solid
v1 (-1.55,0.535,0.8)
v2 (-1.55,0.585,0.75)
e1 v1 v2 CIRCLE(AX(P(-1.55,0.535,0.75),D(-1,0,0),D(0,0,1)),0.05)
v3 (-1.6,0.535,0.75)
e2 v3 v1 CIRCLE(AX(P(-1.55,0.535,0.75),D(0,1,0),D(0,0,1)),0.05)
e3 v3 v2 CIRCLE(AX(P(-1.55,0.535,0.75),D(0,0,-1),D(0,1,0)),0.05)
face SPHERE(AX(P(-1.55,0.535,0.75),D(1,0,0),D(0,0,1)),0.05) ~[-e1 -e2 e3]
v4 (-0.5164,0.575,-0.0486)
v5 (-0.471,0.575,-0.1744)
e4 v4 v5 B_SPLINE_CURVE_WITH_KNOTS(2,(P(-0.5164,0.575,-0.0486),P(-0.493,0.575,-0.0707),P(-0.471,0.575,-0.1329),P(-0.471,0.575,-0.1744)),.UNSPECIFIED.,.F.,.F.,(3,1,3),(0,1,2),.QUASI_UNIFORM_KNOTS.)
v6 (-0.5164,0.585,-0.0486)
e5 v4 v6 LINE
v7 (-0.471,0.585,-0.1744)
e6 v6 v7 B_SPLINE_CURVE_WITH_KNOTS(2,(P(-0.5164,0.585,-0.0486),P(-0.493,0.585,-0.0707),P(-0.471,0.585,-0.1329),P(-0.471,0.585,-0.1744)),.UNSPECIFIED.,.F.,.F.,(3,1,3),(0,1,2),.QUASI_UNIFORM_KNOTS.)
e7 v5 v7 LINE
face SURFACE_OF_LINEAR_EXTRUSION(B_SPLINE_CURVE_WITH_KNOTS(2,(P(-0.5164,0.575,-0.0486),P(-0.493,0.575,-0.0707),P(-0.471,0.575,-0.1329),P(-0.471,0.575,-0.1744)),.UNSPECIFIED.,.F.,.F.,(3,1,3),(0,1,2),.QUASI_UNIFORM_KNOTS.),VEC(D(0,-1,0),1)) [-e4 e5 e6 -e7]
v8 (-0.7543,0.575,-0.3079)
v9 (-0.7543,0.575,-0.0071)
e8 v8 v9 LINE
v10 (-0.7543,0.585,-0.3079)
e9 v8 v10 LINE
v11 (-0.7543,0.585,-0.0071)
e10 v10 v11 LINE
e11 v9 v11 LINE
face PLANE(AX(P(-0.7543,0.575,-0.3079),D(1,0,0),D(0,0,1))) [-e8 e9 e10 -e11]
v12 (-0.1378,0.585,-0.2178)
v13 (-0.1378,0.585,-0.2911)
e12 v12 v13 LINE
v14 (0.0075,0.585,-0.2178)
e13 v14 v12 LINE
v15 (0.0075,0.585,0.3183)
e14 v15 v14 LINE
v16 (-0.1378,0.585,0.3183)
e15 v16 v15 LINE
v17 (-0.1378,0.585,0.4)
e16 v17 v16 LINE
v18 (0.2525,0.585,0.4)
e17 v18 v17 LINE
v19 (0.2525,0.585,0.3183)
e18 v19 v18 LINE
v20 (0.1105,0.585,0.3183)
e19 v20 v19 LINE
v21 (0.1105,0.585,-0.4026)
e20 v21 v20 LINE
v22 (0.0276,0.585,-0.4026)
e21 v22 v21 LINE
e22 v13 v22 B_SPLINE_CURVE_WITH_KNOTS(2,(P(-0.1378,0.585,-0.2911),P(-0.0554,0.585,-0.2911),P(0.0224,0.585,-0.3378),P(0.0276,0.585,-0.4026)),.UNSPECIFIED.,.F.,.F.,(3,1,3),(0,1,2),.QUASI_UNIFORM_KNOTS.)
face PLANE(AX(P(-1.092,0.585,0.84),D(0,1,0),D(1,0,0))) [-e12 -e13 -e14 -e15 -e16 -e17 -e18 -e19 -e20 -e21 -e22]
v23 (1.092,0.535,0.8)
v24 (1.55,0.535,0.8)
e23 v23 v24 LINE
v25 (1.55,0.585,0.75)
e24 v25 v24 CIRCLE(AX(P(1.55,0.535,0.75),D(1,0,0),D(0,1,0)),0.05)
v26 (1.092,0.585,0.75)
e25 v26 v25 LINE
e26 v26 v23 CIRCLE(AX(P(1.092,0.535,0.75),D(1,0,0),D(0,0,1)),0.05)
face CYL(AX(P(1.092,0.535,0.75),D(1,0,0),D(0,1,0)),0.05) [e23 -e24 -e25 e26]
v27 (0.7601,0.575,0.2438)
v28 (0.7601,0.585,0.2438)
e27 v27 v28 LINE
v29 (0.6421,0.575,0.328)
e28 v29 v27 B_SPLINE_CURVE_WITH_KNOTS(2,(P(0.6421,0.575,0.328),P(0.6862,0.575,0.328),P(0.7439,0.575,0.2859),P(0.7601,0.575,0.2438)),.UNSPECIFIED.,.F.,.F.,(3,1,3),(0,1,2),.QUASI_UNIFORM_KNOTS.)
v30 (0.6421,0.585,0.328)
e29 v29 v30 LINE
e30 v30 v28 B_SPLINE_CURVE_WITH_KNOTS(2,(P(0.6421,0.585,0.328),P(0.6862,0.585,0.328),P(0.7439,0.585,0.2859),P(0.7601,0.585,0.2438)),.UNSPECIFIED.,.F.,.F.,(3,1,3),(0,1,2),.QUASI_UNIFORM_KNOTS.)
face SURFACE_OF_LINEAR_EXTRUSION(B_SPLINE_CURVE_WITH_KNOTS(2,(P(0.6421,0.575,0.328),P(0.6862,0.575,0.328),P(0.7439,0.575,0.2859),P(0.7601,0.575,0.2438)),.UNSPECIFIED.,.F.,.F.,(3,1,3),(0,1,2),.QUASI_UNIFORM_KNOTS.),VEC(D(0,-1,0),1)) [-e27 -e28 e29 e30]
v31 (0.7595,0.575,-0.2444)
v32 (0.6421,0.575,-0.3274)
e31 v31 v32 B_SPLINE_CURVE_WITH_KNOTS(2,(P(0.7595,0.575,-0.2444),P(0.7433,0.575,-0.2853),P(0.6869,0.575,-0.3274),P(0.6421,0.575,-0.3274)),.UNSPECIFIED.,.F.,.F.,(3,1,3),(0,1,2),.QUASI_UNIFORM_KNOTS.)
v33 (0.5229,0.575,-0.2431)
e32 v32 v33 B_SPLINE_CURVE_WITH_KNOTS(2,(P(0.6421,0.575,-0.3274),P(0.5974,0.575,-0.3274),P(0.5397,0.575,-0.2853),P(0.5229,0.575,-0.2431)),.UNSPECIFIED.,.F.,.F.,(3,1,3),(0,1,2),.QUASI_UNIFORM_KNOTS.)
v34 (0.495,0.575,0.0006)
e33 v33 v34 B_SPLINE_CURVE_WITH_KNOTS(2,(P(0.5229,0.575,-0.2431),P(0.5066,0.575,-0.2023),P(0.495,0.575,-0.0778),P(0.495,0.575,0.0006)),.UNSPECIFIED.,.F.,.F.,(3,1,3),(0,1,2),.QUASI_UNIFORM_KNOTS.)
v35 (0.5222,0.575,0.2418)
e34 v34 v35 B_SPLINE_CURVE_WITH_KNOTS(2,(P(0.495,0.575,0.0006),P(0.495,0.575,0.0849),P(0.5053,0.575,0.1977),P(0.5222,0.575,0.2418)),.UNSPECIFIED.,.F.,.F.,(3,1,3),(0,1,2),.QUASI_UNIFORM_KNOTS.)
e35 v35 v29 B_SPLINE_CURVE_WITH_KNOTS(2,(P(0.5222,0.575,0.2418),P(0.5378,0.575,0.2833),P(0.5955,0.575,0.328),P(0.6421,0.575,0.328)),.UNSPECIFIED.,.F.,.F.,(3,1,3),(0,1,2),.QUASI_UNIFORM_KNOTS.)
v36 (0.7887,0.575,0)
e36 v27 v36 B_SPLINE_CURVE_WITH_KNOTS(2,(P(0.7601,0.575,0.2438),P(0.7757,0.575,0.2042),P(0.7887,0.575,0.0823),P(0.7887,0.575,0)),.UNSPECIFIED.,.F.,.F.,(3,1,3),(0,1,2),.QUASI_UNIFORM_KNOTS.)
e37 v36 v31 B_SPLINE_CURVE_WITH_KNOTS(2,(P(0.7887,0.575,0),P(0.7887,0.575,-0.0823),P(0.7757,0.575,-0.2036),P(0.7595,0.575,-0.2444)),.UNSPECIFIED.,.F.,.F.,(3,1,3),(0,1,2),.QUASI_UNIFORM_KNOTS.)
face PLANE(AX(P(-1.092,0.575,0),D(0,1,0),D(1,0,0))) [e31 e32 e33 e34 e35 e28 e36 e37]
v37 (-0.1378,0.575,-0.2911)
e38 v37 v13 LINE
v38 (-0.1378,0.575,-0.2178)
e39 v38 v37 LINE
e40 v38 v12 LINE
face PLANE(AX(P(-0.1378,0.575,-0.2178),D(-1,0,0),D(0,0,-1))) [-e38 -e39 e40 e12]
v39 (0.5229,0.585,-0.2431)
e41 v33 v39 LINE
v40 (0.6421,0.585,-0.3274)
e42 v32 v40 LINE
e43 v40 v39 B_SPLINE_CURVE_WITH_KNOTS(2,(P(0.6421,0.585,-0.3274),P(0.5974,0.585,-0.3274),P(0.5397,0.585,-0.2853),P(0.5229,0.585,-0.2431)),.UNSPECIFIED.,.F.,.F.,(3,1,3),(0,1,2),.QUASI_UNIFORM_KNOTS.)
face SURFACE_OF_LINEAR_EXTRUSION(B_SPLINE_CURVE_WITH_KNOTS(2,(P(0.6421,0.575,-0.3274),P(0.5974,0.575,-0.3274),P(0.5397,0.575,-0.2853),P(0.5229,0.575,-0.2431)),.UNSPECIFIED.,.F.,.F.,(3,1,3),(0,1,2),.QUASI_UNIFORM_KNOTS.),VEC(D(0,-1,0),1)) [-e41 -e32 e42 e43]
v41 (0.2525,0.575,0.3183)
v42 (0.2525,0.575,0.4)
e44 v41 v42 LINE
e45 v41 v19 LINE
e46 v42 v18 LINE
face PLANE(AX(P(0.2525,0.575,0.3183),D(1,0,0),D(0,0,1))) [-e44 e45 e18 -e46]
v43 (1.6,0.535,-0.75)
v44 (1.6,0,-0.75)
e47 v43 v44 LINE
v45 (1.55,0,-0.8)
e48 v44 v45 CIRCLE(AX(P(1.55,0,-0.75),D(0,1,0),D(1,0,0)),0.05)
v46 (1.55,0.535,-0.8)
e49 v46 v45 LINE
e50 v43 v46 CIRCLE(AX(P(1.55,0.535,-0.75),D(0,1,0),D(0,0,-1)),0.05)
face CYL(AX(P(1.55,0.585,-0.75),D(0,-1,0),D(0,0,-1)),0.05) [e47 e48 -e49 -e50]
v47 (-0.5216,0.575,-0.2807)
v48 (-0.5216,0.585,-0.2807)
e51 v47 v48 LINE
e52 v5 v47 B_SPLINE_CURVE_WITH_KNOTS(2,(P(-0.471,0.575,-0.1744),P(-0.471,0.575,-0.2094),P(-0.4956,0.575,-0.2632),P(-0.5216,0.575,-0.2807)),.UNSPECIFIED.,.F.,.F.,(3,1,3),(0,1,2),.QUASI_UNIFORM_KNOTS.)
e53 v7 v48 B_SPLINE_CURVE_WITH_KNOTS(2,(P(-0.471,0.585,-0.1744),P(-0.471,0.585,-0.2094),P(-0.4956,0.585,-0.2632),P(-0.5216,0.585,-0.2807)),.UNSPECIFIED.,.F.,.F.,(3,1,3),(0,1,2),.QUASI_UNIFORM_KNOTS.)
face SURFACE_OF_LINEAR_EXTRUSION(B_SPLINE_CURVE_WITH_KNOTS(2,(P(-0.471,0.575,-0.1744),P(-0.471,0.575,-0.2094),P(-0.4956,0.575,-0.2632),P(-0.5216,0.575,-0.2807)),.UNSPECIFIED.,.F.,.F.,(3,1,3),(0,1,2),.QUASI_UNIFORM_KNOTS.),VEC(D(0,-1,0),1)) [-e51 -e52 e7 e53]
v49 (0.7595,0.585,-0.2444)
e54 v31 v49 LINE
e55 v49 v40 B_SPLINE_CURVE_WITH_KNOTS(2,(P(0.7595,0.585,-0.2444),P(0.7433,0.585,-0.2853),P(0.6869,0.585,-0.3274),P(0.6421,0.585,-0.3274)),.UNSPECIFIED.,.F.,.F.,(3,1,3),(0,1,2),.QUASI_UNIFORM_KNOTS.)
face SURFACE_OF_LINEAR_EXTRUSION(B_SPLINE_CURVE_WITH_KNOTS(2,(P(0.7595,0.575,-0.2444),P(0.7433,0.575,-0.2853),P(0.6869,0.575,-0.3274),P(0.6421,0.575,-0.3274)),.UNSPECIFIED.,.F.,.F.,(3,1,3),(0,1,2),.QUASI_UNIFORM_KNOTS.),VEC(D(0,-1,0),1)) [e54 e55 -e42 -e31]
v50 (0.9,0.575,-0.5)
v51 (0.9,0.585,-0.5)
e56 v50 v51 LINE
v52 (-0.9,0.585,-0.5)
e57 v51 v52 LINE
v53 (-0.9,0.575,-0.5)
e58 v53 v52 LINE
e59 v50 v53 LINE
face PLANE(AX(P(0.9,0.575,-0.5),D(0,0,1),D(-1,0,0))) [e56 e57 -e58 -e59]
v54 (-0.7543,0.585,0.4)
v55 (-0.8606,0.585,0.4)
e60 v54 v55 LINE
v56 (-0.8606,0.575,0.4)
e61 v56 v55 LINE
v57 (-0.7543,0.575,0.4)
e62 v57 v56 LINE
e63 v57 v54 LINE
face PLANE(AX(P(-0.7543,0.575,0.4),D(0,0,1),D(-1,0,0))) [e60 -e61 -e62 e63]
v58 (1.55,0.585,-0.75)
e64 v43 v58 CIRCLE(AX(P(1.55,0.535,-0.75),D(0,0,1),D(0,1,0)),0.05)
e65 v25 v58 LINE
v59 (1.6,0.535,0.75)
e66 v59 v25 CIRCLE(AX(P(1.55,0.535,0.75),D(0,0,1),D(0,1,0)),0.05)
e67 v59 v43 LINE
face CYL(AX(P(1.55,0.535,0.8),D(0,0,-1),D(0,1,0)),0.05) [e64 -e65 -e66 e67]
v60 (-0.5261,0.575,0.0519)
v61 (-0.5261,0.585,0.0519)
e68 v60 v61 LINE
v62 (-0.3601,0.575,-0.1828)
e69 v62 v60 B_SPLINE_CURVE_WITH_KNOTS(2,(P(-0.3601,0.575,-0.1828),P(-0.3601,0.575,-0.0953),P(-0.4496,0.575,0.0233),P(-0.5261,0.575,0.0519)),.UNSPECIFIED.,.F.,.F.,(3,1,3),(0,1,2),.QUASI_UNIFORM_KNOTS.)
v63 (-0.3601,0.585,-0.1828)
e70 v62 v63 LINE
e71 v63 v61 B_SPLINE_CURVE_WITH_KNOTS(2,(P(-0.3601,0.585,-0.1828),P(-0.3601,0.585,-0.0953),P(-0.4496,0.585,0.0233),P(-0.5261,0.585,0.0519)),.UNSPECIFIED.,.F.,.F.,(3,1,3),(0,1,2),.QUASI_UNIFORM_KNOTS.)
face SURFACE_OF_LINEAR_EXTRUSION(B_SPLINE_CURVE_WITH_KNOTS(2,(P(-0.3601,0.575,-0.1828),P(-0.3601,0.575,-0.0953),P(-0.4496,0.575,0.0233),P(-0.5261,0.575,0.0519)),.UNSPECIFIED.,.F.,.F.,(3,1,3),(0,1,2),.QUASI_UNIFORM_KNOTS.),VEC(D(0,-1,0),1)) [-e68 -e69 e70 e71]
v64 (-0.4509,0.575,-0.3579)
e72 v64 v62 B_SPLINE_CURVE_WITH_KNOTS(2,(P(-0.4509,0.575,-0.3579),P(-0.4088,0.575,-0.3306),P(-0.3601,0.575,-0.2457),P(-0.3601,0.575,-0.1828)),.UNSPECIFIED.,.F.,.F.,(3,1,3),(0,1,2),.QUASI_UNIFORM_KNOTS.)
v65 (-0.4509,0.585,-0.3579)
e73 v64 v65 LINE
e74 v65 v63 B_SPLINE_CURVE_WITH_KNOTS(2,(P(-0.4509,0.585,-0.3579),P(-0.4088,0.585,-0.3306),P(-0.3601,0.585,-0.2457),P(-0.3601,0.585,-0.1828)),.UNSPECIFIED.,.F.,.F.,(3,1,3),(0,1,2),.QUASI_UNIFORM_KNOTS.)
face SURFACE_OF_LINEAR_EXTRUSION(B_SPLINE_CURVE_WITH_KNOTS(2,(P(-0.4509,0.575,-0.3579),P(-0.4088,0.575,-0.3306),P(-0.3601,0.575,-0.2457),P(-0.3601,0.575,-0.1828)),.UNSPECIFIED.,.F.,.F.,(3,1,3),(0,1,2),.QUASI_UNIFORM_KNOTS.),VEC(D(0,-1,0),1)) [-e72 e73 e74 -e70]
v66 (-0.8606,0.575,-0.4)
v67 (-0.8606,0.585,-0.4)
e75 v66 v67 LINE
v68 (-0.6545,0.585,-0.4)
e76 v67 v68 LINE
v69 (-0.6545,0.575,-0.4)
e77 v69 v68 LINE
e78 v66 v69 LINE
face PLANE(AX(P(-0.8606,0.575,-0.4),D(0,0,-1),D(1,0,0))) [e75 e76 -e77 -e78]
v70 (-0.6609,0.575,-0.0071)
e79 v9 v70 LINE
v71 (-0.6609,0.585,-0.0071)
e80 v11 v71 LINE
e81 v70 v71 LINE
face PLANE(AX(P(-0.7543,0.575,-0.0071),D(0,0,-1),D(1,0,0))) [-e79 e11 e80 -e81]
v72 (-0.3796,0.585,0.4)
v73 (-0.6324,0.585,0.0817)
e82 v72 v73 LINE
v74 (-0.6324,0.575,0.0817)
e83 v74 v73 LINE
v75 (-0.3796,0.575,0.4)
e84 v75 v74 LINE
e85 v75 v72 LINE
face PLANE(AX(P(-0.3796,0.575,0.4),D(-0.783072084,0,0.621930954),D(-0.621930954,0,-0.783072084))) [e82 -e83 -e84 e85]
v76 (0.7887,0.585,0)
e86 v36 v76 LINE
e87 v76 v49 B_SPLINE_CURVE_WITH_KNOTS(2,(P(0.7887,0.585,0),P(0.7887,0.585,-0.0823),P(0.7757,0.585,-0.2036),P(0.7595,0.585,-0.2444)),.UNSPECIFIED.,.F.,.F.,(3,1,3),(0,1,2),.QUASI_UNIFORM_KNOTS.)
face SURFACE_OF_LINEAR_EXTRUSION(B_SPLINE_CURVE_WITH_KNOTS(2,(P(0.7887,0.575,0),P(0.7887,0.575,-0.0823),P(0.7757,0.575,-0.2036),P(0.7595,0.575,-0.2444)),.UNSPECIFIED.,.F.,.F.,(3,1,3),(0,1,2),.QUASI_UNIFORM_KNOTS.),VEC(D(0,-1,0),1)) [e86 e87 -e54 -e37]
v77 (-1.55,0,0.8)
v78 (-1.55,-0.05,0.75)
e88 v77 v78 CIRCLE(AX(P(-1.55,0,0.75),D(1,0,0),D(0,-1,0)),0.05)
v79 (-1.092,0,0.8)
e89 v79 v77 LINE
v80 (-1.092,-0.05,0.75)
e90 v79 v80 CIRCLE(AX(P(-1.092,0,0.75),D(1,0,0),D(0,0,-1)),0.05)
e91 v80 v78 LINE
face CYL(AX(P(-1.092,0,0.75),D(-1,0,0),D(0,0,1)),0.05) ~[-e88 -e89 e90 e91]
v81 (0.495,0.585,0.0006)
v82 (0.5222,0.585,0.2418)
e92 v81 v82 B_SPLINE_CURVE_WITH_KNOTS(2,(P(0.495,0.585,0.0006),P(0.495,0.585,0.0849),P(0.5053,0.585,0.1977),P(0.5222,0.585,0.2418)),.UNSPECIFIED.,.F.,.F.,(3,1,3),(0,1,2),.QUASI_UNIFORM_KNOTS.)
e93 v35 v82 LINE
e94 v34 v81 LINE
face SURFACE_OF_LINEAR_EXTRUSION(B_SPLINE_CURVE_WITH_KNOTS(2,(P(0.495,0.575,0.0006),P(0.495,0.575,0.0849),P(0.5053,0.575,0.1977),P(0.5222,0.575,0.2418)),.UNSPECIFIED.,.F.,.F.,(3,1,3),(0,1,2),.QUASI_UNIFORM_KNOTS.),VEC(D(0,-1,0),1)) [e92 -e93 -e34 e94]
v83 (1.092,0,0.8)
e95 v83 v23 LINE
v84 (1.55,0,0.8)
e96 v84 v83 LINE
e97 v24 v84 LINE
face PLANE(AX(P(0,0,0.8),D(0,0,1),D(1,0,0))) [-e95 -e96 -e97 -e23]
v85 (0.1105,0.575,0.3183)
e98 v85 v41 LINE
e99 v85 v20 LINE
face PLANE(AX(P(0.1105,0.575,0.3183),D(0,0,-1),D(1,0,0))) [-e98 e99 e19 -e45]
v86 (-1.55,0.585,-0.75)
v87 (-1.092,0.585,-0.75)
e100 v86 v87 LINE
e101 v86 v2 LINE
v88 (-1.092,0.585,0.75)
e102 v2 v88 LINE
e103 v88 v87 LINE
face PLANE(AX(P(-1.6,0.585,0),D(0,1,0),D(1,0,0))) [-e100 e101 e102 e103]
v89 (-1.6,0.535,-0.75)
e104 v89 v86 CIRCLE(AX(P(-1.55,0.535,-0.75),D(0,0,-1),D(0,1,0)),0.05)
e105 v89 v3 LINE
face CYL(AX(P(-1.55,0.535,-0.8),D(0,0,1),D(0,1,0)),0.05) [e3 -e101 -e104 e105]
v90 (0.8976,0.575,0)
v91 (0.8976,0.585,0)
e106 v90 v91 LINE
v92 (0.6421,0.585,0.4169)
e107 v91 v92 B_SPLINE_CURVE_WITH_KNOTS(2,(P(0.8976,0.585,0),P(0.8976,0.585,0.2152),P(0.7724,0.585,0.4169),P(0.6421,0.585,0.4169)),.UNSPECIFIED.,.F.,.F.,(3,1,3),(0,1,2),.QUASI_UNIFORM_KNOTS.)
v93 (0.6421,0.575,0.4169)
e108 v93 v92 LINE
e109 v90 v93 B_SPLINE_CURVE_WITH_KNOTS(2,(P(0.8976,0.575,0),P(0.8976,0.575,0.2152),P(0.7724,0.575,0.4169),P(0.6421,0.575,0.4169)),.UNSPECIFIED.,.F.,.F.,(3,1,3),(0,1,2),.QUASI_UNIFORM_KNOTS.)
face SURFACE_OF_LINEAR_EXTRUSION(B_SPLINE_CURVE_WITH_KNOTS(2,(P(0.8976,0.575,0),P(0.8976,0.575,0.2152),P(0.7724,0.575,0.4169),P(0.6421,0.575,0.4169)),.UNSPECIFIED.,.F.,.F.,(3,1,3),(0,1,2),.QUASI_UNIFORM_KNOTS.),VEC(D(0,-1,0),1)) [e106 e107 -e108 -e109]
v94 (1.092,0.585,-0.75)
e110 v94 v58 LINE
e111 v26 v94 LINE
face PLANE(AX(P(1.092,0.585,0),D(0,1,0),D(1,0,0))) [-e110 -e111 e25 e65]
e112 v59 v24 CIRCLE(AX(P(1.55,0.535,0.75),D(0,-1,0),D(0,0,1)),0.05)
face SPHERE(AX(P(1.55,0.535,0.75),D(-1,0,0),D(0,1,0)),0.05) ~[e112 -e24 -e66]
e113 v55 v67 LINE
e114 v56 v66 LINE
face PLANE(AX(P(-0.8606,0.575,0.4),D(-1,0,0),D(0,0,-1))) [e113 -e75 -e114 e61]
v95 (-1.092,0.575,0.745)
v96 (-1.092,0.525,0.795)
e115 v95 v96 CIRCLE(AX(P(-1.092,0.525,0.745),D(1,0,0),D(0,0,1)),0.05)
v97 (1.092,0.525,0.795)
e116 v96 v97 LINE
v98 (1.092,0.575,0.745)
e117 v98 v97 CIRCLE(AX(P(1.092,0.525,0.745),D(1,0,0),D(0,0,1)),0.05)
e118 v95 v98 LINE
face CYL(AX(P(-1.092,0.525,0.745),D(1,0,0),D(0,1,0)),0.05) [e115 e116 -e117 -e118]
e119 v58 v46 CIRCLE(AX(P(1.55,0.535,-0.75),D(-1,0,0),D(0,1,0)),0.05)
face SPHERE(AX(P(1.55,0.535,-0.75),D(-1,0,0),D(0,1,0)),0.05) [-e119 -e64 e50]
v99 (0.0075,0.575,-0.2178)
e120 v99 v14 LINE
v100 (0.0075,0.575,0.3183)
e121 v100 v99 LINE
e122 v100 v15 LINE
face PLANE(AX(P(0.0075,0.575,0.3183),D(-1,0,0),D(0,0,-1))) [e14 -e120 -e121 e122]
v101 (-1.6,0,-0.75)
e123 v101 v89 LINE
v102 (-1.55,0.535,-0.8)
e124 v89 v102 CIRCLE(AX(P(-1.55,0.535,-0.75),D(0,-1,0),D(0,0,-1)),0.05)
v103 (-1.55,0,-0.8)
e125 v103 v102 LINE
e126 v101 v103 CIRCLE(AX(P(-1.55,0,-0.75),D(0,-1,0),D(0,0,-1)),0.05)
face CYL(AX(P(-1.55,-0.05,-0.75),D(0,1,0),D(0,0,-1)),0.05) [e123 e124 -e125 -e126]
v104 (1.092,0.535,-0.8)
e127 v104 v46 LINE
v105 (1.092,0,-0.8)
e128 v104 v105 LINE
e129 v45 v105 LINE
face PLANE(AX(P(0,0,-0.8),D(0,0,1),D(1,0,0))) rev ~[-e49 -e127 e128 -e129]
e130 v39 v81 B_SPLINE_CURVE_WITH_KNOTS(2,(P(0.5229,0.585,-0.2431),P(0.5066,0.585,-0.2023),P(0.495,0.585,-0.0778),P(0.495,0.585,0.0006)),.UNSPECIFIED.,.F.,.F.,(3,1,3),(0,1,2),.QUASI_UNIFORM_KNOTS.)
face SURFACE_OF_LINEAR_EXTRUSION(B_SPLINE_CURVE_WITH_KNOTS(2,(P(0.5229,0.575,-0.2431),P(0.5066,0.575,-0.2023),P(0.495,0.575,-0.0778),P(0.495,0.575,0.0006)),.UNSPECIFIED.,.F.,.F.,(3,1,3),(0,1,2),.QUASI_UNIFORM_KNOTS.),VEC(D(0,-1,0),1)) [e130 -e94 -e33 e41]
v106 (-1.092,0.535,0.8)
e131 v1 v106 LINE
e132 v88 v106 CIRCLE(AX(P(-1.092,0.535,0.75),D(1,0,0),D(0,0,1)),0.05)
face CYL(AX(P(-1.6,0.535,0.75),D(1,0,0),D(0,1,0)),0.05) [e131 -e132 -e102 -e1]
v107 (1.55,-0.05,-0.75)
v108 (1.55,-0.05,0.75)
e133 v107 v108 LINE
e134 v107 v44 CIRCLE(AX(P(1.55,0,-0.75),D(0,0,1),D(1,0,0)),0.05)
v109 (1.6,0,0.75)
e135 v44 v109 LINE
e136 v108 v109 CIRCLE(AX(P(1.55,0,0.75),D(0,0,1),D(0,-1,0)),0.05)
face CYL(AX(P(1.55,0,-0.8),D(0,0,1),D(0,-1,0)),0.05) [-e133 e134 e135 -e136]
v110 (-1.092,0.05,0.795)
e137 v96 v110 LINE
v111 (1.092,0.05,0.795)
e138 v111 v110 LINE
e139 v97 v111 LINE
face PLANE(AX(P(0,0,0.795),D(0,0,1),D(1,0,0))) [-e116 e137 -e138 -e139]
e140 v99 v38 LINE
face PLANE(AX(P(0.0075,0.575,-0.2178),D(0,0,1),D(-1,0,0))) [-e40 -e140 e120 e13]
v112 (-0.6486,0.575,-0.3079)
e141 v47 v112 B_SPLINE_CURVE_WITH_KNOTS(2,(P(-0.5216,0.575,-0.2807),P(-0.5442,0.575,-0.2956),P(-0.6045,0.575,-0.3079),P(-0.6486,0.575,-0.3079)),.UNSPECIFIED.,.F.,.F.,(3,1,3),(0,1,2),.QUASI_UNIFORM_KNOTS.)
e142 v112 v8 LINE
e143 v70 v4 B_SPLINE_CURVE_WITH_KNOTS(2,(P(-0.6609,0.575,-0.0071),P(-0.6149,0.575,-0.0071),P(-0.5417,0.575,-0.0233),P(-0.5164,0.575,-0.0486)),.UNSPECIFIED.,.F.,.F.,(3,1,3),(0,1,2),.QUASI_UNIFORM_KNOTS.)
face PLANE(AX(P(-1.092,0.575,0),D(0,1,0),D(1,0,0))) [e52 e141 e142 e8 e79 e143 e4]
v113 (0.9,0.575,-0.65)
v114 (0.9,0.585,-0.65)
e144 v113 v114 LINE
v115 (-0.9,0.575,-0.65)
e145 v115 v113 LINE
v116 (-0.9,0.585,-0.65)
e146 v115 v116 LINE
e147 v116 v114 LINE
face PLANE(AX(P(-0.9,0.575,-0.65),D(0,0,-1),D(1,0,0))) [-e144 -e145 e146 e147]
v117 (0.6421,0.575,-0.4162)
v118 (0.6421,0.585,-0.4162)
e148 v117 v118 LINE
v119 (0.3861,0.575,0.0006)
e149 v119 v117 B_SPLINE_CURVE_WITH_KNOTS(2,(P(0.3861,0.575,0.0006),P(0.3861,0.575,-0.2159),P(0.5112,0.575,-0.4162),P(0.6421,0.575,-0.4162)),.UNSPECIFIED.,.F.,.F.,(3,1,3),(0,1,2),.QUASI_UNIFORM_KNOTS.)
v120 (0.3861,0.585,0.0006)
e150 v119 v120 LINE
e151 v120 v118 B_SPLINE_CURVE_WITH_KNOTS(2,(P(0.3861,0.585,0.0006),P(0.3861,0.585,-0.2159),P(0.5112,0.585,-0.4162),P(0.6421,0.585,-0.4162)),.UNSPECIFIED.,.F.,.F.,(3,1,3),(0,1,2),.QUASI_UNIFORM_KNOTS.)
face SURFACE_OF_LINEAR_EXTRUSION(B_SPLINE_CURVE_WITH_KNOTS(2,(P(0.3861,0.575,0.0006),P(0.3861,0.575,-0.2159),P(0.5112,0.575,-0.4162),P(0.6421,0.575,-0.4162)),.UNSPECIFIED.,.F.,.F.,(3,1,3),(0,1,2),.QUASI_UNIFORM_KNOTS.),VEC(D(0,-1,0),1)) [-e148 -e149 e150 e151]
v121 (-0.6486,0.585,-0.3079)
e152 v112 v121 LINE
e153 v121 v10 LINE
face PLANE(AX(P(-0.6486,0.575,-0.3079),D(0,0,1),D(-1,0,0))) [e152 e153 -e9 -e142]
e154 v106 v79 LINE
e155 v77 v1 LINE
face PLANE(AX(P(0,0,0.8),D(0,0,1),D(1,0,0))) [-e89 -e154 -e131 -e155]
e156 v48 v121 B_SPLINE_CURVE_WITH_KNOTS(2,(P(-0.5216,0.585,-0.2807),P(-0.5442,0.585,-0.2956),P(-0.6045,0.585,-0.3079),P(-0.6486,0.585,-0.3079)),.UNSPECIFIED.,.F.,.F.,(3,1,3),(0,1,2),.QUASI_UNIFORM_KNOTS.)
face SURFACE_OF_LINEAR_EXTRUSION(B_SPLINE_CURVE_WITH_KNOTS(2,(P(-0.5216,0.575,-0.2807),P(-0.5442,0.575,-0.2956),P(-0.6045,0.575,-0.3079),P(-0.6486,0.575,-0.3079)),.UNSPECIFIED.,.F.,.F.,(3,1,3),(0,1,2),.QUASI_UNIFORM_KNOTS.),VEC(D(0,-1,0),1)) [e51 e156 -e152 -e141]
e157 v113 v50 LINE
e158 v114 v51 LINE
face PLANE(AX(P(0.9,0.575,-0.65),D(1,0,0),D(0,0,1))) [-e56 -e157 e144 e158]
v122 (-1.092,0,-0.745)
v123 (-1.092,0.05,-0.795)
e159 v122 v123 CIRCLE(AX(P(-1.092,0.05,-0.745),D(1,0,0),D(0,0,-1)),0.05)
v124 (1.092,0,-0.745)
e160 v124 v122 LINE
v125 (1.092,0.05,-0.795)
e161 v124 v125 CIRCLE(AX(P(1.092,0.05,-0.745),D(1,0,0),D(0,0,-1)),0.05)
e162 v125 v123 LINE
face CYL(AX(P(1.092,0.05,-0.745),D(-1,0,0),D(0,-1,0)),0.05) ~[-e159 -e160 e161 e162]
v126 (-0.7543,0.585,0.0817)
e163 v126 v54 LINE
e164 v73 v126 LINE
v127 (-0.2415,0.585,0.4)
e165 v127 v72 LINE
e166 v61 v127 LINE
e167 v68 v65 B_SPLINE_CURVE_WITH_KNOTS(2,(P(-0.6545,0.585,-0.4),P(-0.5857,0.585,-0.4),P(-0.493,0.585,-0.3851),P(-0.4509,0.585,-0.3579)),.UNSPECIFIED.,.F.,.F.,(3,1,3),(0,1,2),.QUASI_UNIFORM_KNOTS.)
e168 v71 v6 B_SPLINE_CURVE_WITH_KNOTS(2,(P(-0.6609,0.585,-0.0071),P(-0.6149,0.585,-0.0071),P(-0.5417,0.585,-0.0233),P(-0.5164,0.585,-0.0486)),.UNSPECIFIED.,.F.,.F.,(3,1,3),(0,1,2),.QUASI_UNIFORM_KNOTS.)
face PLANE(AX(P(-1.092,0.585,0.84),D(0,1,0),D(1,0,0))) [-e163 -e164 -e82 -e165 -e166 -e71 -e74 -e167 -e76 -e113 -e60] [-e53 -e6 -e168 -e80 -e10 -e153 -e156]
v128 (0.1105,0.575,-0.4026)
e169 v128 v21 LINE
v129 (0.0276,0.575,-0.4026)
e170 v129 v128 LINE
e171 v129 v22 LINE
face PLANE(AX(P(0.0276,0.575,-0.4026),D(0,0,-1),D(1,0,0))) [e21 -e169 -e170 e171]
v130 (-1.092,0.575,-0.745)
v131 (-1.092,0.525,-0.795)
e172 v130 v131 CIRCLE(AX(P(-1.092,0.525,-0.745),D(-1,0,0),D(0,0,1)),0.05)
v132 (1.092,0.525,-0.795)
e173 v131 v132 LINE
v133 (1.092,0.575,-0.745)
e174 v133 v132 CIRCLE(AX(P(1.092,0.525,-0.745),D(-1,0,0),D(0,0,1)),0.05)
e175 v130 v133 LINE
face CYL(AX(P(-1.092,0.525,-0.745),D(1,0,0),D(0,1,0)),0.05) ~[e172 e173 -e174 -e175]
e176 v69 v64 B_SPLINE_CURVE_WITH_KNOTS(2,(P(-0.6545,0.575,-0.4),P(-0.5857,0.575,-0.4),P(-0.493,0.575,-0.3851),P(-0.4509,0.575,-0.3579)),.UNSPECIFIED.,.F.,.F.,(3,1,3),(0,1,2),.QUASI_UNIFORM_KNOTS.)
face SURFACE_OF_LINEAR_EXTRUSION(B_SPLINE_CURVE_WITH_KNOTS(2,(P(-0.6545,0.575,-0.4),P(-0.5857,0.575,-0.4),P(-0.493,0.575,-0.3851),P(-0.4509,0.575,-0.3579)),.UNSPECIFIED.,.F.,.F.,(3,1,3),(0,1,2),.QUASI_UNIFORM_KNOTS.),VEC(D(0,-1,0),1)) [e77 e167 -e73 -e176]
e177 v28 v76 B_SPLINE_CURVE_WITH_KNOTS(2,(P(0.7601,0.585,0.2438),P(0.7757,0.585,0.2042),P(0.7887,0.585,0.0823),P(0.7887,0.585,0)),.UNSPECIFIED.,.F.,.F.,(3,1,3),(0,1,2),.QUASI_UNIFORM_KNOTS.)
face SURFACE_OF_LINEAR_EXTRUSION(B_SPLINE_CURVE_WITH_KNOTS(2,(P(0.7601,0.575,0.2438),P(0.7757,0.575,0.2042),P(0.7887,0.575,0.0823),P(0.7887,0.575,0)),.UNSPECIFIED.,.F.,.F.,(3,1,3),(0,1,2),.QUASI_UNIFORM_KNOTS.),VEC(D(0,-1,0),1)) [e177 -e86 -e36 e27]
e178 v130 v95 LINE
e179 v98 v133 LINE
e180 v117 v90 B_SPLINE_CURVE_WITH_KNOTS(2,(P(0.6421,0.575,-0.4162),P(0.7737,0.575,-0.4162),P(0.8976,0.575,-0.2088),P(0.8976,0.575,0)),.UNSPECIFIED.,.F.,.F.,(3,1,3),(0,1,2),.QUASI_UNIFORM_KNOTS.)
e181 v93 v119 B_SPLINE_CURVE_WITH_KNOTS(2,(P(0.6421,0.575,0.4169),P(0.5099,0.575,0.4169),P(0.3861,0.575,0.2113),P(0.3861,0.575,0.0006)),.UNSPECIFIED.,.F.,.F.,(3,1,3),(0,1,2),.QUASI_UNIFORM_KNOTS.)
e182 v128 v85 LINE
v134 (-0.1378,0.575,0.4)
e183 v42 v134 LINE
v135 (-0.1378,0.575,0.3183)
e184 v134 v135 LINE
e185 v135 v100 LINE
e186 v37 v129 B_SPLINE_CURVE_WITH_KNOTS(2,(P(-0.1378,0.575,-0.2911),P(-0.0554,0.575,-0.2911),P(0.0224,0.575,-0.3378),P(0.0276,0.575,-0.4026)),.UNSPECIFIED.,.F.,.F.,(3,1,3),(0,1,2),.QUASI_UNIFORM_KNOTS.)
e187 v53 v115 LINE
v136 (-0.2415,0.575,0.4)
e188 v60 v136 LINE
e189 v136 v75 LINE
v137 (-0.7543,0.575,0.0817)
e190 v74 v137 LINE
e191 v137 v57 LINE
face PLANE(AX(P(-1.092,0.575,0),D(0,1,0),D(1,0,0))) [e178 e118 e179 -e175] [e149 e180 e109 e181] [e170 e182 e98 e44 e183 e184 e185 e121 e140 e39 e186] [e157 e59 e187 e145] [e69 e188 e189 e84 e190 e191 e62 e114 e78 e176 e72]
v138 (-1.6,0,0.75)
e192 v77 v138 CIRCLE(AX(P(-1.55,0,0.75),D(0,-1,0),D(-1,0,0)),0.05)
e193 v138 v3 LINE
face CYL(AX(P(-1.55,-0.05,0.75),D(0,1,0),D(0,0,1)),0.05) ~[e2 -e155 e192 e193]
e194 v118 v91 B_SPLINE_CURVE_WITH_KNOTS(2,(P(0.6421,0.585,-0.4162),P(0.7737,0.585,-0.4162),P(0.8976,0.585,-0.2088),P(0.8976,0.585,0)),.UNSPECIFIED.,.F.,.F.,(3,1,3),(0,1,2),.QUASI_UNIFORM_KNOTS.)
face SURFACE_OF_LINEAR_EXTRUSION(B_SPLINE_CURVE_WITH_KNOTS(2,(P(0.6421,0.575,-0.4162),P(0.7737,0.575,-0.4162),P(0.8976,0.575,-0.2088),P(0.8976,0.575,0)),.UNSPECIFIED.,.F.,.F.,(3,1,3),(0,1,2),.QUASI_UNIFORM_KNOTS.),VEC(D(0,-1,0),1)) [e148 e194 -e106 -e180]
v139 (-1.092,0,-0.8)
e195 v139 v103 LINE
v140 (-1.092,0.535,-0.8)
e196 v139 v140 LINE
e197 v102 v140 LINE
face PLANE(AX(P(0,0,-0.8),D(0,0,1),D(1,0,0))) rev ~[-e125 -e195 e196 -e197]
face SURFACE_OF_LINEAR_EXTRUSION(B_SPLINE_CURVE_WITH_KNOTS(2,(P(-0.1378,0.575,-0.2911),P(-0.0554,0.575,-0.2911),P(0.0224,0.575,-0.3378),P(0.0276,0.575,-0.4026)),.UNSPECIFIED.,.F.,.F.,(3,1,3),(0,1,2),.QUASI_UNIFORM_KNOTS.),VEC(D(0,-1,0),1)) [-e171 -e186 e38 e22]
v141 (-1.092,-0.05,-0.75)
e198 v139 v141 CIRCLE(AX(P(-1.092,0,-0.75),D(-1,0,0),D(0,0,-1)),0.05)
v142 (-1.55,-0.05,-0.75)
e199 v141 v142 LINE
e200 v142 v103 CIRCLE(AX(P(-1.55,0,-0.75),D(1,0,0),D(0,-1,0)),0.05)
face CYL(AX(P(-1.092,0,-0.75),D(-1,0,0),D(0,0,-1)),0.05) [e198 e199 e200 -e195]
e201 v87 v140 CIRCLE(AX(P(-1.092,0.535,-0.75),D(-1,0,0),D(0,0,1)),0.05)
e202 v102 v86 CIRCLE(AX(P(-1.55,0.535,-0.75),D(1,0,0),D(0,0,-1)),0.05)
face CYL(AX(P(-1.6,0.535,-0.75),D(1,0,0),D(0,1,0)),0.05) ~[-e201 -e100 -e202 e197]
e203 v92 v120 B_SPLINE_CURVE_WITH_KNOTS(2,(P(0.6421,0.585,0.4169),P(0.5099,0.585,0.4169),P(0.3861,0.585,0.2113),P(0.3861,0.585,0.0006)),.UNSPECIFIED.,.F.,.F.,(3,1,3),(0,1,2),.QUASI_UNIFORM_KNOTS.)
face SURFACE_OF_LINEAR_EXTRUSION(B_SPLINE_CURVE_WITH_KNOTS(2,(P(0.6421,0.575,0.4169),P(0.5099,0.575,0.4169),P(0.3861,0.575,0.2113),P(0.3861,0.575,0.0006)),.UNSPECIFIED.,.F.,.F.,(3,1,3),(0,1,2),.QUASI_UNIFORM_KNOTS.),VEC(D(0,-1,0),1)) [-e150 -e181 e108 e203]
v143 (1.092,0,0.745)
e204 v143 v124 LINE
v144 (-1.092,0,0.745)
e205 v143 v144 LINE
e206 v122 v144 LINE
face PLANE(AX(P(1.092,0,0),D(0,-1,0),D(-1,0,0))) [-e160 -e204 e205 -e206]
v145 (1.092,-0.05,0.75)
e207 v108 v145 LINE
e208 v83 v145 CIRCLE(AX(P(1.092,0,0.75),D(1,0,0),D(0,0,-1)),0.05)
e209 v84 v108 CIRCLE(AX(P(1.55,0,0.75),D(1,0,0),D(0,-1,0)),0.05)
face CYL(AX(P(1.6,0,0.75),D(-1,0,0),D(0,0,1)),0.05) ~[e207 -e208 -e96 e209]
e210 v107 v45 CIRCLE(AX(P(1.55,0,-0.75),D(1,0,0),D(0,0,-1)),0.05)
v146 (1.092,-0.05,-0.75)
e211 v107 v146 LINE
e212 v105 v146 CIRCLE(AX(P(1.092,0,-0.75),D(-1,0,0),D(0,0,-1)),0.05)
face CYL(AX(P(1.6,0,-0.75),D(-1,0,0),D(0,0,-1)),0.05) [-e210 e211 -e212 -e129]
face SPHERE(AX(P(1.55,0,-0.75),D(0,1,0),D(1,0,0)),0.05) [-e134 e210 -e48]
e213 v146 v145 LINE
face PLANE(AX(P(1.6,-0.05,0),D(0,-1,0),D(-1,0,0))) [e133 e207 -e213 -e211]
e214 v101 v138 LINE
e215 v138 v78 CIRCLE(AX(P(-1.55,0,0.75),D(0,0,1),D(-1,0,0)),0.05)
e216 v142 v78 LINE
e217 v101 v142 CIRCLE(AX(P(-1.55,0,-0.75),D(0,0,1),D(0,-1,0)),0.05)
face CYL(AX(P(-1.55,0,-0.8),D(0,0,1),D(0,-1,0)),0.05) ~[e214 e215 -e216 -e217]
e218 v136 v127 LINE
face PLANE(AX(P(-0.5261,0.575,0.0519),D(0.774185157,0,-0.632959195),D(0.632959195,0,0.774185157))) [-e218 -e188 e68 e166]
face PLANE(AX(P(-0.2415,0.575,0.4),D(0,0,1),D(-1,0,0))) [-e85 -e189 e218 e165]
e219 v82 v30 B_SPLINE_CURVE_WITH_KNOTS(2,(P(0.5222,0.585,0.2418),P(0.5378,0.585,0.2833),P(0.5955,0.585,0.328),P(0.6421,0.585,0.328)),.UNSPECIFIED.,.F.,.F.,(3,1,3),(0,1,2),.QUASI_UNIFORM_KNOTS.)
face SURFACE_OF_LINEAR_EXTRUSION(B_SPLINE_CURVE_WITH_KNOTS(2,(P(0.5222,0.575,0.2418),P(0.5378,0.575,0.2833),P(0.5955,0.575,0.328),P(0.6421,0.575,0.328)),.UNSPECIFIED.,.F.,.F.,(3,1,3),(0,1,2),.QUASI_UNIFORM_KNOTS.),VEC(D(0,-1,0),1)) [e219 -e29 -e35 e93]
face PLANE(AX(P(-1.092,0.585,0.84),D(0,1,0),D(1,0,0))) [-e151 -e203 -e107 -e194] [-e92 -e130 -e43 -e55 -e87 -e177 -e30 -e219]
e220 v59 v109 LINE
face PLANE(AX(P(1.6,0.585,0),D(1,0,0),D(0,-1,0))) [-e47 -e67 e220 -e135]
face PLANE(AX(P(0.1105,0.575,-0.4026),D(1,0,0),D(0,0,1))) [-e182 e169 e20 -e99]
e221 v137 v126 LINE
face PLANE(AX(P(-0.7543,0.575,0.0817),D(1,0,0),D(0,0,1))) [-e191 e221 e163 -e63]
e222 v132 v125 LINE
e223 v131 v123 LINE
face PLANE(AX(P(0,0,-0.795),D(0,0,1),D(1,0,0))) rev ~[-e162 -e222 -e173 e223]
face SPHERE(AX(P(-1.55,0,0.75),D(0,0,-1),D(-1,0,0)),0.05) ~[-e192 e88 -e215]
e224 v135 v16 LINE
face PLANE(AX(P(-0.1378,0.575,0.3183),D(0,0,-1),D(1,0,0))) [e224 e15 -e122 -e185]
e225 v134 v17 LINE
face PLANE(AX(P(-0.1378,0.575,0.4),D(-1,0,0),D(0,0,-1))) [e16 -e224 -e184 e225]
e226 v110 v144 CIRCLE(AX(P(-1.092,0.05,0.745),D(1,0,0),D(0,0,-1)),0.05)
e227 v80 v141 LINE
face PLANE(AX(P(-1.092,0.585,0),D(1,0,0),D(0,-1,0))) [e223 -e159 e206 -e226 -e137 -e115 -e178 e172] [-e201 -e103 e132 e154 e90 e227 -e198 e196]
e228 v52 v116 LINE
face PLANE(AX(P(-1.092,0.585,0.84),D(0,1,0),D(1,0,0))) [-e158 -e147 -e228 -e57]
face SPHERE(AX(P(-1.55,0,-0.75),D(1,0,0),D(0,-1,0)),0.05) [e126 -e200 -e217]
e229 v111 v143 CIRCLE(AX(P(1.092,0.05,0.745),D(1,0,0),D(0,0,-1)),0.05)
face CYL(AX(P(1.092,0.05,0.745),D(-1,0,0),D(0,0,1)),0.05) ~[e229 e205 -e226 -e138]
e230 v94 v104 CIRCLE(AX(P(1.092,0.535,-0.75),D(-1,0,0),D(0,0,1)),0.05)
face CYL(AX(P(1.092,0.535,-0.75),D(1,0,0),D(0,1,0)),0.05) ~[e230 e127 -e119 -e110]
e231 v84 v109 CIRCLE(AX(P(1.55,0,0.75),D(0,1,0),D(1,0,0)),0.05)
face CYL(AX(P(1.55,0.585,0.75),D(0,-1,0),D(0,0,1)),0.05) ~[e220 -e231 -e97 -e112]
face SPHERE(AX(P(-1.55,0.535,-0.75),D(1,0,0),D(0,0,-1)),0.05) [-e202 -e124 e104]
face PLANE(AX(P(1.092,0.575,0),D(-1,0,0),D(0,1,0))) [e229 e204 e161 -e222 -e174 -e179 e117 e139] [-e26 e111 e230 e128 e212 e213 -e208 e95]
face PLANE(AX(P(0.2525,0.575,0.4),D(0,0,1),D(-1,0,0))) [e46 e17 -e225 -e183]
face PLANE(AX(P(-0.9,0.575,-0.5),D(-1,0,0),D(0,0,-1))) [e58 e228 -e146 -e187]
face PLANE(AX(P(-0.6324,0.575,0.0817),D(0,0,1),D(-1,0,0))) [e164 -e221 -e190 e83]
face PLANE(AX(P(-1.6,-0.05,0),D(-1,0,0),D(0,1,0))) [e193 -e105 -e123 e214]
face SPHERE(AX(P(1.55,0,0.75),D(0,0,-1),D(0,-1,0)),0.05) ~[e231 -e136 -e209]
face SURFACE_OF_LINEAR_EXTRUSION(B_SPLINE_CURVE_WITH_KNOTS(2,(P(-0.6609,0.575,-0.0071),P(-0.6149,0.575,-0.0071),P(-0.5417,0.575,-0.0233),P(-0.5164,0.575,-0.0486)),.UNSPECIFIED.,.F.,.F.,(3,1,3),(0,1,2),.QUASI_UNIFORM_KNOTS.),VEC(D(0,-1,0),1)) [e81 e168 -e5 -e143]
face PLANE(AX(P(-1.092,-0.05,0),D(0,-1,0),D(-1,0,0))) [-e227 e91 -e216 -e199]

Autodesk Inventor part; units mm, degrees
ref_plane "YZ Plane" through (0, 0, 0) normal (1, 0, 0) x (0, 1, 0)
ref_plane "XZ Plane" through (0, 0, 0) normal (0, 1, 0) x (-1, 0, 0)
ref_plane "XY Plane" through (0, 0, 0) normal (0, 0, 1) x (1, 0, 0)
sketch "Sketch1" plane through (0, 0, 0) normal (0, 0, 1) x (1, 0, 0)
  line L0 (-1.6, 0.585) -> (-1.092, 0.585)
  line L1 (-1.092, 0.585) -> (-1.092, -0.05)
  line L2 (-1.092, -0.05) -> (-1.6, -0.05)
  line L3 (-1.6, -0.05) -> (-1.6, 0.585)
  line L4 (-1.092, 0.575) -> (1.092, 0.575)
  line L5 (1.092, 0.575) -> (1.092, 0)
  line L6 (1.092, 0) -> (-1.092, 0)
  line L7 (-1.092, 0) -> (-1.092, 0.575)
  line L8 (1.092, 0.585) -> (1.6, 0.585)
  line L9 (1.6, 0.585) -> (1.6, -0.05)
  line L10 (1.6, -0.05) -> (1.092, -0.05)
  line L11 (1.092, -0.05) -> (1.092, 0.585)
  point P0 (0, 0)
  point P1 (0, 0.575)
  point P2 (0, 0)
  dimension "d0" = 3.2
  dimension "d1" = 0.635
  dimension "d2" = 0.508
  dimension "d3" = 0.05
  dimension "d6" = 0.01
extrude "Extrusion1" add sketch "Sketch1" along normal mid plane 1.6 contours L0 L1 L2 L3 | L11 L8 L9 L10 L5
extrude "Extrusion2" add sketch "Sketch1" along normal mid plane 1.59 contours L4 L5 L6 L1
sketch "Sketch3" plane through (-1.092, 0.575, 0.84) normal (0, 1, 0) x (1, 0, 0)
  line L0 (0, 0.045) -> (0, 1.635) projected
  line L1 (2.184, 0.045) -> (0, 0.045) projected
  line L2 (2.184, 1.635) -> (2.184, 0.045) projected
  line L3 (0, 1.635) -> (2.184, 1.635) projected
  line L4 (2.184, 1.64) -> (2.184, 0.04) construction
  line L5 (2.184, 0.84) -> (0, 0.84) construction
  line L6 (0, 1.64) -> (0, 0.04) construction
  line L7 (0.192, 1.49) -> (1.992, 1.49)
  line L8 (1.992, 1.49) -> (1.992, 1.34)
  line L9 (1.992, 1.34) -> (0.192, 1.34)
  line L10 (0.192, 1.34) -> (0.192, 1.49)
  line L11 (0.8505, 0.44) -> (0.7124, 0.44)
  line L12 (0.7124, 0.44) -> (0.4596, 0.7583)
  line L13 (0.4596, 0.7583) -> (0.3377, 0.7583)
  line L14 (0.3377, 0.7583) -> (0.3377, 0.44)
  line L15 (0.3377, 0.44) -> (0.2314, 0.44)
  line L16 (0.2314, 0.44) -> (0.2314, 1.24)
  line L17 (0.2314, 1.24) -> (0.4375, 1.24)
  spline S0 degree 2 poles (0.4375, 1.24) (0.5063, 1.24) (0.599, 1.2251) (0.6411, 1.1979) knots 0 0 0 1 2 2 2
  spline S1 degree 2 poles (0.6411, 1.1979) (0.6832, 1.1706) (0.7319, 1.0857) (0.7319, 1.0228) knots 0 0 0 1 2 2 2
  spline S2 degree 2 poles (0.7319, 1.0228) (0.7319, 0.9353) (0.6424, 0.8167) (0.5659, 0.7881) knots 0 0 0 1 2 2 2
  line L18 (0.5659, 0.7881) -> (0.8505, 0.44)
  spline S3 degree 2 poles (0.621, 1.0144) (0.621, 1.0494) (0.5964, 1.1032) (0.5704, 1.1207) knots 0 0 0 1 2 2 2
  spline S4 degree 2 poles (0.5704, 1.1207) (0.5478, 1.1356) (0.4875, 1.1479) (0.4434, 1.1479) knots 0 0 0 1 2 2 2
  line L19 (0.4434, 1.1479) -> (0.3377, 1.1479)
  line L20 (0.3377, 1.1479) -> (0.3377, 0.8471)
  line L21 (0.3377, 0.8471) -> (0.4311, 0.8471)
  spline S5 degree 2 poles (0.4311, 0.8471) (0.4771, 0.8471) (0.5503, 0.8633) (0.5756, 0.8886) knots 0 0 0 1 2 2 2
  spline S6 degree 2 poles (0.5756, 0.8886) (0.599, 0.9107) (0.621, 0.9729) (0.621, 1.0144) knots 0 0 0 1 2 2 2
  line L22 (1.3445, 0.44) -> (0.9542, 0.44)
  line L23 (0.9542, 0.44) -> (0.9542, 0.5217)
  line L24 (0.9542, 0.5217) -> (1.0995, 0.5217)
  line L25 (1.0995, 0.5217) -> (1.0995, 1.0578)
  line L26 (1.0995, 1.0578) -> (0.9542, 1.0578)
  line L27 (0.9542, 1.0578) -> (0.9542, 1.1311)
  spline S7 degree 2 poles (0.9542, 1.1311) (1.0366, 1.1311) (1.1144, 1.1778) (1.1196, 1.2426) knots 0 0 0 1 2 2 2
  line L28 (1.1196, 1.2426) -> (1.2025, 1.2426)
  line L29 (1.2025, 1.2426) -> (1.2025, 0.5217)
  line L30 (1.2025, 0.5217) -> (1.3445, 0.5217)
  line L31 (1.3445, 0.5217) -> (1.3445, 0.44)
  spline S8 degree 2 poles (1.9896, 0.84) (1.9896, 0.6248) (1.8644, 0.4231) (1.7341, 0.4231) knots 0 0 0 1 2 2 2
  spline S9 degree 2 poles (1.7341, 0.4231) (1.6019, 0.4231) (1.4781, 0.6287) (1.4781, 0.8394) knots 0 0 0 1 2 2 2
  spline S10 degree 2 poles (1.4781, 0.8394) (1.4781, 1.0559) (1.6032, 1.2562) (1.7341, 1.2562) knots 0 0 0 1 2 2 2
  spline S11 degree 2 poles (1.7341, 1.2562) (1.8657, 1.2562) (1.9896, 1.0488) (1.9896, 0.84) knots 0 0 0 1 2 2 2
  spline S12 degree 2 poles (1.8521, 0.5962) (1.8677, 0.6358) (1.8807, 0.7577) (1.8807, 0.84) knots 0 0 0 1 2 2 2
  spline S13 degree 2 poles (1.8807, 0.84) (1.8807, 0.9223) (1.8677, 1.0436) (1.8515, 1.0844) knots 0 0 0 1 2 2 2
  spline S14 degree 2 poles (1.8515, 1.0844) (1.8353, 1.1253) (1.7789, 1.1674) (1.7341, 1.1674) knots 0 0 0 1 2 2 2
  spline S15 degree 2 poles (1.7341, 1.1674) (1.6894, 1.1674) (1.6317, 1.1253) (1.6149, 1.0831) knots 0 0 0 1 2 2 2
  spline S16 degree 2 poles (1.6149, 1.0831) (1.5986, 1.0423) (1.587, 0.9178) (1.587, 0.8394) knots 0 0 0 1 2 2 2
  spline S17 degree 2 poles (1.587, 0.8394) (1.587, 0.7551) (1.5973, 0.6423) (1.6142, 0.5982) knots 0 0 0 1 2 2 2
  spline S18 degree 2 poles (1.6142, 0.5982) (1.6298, 0.5567) (1.6875, 0.512) (1.7341, 0.512) knots 0 0 0 1 2 2 2
  spline S19 degree 2 poles (1.7341, 0.512) (1.7782, 0.512) (1.8359, 0.5541) (1.8521, 0.5962) knots 0 0 0 1 2 2 2
  point P0 (1.092, 0.84)
  point P1 (1.092, 1.34)
  point P2 (1.092, 0.84)
  dimension "d15" = 0.15
  dimension "d16" = 1.8
  dimension "d17" = 0.5
extrude "Extrusion4" add sketch "Sketch3" along normal blind 0.01 contours L7 L8 L9 L10 | L11 L12 L13 L14 L15 L16 L17 S0 S1 S2 L18 | L22 L23 L24 L25 L26 L27 S7 L28 L29 L30 L31 | S8 S9 S10 S11
fillet "Fillet2" radius 0.05 4 edges at (0, 0.575, 0.795) (0, 0, 0.795) (0, 0.575, -0.795) (0, 0, -0.795)
fillet "Fillet1" radius 0.05 16 edges at (-1.346, 0.585, 0.8) (1.346, 0.585, 0.8) (-1.346, 0.585, -0.8) (1.346, 0.585, -0.8) (1.6, 0.585, 0) (1.6, 0.2675, -0.8) (1.6, -0.05, 0) (1.346, -0.05, -0.8) (1.346, -0.05, 0.8) (1.6, 0.2675, 0.8) (-1.346, -0.05, -0.8) (-1.6, -0.05, 0) (-1.6, 0.2675, 0.8) (-1.346, -0.05, 0.8) (-1.6, 0.2675, -0.8) (-1.6, 0.585, 0)
properties part number "Resistor_1608-0.5mm" material "Copper"
